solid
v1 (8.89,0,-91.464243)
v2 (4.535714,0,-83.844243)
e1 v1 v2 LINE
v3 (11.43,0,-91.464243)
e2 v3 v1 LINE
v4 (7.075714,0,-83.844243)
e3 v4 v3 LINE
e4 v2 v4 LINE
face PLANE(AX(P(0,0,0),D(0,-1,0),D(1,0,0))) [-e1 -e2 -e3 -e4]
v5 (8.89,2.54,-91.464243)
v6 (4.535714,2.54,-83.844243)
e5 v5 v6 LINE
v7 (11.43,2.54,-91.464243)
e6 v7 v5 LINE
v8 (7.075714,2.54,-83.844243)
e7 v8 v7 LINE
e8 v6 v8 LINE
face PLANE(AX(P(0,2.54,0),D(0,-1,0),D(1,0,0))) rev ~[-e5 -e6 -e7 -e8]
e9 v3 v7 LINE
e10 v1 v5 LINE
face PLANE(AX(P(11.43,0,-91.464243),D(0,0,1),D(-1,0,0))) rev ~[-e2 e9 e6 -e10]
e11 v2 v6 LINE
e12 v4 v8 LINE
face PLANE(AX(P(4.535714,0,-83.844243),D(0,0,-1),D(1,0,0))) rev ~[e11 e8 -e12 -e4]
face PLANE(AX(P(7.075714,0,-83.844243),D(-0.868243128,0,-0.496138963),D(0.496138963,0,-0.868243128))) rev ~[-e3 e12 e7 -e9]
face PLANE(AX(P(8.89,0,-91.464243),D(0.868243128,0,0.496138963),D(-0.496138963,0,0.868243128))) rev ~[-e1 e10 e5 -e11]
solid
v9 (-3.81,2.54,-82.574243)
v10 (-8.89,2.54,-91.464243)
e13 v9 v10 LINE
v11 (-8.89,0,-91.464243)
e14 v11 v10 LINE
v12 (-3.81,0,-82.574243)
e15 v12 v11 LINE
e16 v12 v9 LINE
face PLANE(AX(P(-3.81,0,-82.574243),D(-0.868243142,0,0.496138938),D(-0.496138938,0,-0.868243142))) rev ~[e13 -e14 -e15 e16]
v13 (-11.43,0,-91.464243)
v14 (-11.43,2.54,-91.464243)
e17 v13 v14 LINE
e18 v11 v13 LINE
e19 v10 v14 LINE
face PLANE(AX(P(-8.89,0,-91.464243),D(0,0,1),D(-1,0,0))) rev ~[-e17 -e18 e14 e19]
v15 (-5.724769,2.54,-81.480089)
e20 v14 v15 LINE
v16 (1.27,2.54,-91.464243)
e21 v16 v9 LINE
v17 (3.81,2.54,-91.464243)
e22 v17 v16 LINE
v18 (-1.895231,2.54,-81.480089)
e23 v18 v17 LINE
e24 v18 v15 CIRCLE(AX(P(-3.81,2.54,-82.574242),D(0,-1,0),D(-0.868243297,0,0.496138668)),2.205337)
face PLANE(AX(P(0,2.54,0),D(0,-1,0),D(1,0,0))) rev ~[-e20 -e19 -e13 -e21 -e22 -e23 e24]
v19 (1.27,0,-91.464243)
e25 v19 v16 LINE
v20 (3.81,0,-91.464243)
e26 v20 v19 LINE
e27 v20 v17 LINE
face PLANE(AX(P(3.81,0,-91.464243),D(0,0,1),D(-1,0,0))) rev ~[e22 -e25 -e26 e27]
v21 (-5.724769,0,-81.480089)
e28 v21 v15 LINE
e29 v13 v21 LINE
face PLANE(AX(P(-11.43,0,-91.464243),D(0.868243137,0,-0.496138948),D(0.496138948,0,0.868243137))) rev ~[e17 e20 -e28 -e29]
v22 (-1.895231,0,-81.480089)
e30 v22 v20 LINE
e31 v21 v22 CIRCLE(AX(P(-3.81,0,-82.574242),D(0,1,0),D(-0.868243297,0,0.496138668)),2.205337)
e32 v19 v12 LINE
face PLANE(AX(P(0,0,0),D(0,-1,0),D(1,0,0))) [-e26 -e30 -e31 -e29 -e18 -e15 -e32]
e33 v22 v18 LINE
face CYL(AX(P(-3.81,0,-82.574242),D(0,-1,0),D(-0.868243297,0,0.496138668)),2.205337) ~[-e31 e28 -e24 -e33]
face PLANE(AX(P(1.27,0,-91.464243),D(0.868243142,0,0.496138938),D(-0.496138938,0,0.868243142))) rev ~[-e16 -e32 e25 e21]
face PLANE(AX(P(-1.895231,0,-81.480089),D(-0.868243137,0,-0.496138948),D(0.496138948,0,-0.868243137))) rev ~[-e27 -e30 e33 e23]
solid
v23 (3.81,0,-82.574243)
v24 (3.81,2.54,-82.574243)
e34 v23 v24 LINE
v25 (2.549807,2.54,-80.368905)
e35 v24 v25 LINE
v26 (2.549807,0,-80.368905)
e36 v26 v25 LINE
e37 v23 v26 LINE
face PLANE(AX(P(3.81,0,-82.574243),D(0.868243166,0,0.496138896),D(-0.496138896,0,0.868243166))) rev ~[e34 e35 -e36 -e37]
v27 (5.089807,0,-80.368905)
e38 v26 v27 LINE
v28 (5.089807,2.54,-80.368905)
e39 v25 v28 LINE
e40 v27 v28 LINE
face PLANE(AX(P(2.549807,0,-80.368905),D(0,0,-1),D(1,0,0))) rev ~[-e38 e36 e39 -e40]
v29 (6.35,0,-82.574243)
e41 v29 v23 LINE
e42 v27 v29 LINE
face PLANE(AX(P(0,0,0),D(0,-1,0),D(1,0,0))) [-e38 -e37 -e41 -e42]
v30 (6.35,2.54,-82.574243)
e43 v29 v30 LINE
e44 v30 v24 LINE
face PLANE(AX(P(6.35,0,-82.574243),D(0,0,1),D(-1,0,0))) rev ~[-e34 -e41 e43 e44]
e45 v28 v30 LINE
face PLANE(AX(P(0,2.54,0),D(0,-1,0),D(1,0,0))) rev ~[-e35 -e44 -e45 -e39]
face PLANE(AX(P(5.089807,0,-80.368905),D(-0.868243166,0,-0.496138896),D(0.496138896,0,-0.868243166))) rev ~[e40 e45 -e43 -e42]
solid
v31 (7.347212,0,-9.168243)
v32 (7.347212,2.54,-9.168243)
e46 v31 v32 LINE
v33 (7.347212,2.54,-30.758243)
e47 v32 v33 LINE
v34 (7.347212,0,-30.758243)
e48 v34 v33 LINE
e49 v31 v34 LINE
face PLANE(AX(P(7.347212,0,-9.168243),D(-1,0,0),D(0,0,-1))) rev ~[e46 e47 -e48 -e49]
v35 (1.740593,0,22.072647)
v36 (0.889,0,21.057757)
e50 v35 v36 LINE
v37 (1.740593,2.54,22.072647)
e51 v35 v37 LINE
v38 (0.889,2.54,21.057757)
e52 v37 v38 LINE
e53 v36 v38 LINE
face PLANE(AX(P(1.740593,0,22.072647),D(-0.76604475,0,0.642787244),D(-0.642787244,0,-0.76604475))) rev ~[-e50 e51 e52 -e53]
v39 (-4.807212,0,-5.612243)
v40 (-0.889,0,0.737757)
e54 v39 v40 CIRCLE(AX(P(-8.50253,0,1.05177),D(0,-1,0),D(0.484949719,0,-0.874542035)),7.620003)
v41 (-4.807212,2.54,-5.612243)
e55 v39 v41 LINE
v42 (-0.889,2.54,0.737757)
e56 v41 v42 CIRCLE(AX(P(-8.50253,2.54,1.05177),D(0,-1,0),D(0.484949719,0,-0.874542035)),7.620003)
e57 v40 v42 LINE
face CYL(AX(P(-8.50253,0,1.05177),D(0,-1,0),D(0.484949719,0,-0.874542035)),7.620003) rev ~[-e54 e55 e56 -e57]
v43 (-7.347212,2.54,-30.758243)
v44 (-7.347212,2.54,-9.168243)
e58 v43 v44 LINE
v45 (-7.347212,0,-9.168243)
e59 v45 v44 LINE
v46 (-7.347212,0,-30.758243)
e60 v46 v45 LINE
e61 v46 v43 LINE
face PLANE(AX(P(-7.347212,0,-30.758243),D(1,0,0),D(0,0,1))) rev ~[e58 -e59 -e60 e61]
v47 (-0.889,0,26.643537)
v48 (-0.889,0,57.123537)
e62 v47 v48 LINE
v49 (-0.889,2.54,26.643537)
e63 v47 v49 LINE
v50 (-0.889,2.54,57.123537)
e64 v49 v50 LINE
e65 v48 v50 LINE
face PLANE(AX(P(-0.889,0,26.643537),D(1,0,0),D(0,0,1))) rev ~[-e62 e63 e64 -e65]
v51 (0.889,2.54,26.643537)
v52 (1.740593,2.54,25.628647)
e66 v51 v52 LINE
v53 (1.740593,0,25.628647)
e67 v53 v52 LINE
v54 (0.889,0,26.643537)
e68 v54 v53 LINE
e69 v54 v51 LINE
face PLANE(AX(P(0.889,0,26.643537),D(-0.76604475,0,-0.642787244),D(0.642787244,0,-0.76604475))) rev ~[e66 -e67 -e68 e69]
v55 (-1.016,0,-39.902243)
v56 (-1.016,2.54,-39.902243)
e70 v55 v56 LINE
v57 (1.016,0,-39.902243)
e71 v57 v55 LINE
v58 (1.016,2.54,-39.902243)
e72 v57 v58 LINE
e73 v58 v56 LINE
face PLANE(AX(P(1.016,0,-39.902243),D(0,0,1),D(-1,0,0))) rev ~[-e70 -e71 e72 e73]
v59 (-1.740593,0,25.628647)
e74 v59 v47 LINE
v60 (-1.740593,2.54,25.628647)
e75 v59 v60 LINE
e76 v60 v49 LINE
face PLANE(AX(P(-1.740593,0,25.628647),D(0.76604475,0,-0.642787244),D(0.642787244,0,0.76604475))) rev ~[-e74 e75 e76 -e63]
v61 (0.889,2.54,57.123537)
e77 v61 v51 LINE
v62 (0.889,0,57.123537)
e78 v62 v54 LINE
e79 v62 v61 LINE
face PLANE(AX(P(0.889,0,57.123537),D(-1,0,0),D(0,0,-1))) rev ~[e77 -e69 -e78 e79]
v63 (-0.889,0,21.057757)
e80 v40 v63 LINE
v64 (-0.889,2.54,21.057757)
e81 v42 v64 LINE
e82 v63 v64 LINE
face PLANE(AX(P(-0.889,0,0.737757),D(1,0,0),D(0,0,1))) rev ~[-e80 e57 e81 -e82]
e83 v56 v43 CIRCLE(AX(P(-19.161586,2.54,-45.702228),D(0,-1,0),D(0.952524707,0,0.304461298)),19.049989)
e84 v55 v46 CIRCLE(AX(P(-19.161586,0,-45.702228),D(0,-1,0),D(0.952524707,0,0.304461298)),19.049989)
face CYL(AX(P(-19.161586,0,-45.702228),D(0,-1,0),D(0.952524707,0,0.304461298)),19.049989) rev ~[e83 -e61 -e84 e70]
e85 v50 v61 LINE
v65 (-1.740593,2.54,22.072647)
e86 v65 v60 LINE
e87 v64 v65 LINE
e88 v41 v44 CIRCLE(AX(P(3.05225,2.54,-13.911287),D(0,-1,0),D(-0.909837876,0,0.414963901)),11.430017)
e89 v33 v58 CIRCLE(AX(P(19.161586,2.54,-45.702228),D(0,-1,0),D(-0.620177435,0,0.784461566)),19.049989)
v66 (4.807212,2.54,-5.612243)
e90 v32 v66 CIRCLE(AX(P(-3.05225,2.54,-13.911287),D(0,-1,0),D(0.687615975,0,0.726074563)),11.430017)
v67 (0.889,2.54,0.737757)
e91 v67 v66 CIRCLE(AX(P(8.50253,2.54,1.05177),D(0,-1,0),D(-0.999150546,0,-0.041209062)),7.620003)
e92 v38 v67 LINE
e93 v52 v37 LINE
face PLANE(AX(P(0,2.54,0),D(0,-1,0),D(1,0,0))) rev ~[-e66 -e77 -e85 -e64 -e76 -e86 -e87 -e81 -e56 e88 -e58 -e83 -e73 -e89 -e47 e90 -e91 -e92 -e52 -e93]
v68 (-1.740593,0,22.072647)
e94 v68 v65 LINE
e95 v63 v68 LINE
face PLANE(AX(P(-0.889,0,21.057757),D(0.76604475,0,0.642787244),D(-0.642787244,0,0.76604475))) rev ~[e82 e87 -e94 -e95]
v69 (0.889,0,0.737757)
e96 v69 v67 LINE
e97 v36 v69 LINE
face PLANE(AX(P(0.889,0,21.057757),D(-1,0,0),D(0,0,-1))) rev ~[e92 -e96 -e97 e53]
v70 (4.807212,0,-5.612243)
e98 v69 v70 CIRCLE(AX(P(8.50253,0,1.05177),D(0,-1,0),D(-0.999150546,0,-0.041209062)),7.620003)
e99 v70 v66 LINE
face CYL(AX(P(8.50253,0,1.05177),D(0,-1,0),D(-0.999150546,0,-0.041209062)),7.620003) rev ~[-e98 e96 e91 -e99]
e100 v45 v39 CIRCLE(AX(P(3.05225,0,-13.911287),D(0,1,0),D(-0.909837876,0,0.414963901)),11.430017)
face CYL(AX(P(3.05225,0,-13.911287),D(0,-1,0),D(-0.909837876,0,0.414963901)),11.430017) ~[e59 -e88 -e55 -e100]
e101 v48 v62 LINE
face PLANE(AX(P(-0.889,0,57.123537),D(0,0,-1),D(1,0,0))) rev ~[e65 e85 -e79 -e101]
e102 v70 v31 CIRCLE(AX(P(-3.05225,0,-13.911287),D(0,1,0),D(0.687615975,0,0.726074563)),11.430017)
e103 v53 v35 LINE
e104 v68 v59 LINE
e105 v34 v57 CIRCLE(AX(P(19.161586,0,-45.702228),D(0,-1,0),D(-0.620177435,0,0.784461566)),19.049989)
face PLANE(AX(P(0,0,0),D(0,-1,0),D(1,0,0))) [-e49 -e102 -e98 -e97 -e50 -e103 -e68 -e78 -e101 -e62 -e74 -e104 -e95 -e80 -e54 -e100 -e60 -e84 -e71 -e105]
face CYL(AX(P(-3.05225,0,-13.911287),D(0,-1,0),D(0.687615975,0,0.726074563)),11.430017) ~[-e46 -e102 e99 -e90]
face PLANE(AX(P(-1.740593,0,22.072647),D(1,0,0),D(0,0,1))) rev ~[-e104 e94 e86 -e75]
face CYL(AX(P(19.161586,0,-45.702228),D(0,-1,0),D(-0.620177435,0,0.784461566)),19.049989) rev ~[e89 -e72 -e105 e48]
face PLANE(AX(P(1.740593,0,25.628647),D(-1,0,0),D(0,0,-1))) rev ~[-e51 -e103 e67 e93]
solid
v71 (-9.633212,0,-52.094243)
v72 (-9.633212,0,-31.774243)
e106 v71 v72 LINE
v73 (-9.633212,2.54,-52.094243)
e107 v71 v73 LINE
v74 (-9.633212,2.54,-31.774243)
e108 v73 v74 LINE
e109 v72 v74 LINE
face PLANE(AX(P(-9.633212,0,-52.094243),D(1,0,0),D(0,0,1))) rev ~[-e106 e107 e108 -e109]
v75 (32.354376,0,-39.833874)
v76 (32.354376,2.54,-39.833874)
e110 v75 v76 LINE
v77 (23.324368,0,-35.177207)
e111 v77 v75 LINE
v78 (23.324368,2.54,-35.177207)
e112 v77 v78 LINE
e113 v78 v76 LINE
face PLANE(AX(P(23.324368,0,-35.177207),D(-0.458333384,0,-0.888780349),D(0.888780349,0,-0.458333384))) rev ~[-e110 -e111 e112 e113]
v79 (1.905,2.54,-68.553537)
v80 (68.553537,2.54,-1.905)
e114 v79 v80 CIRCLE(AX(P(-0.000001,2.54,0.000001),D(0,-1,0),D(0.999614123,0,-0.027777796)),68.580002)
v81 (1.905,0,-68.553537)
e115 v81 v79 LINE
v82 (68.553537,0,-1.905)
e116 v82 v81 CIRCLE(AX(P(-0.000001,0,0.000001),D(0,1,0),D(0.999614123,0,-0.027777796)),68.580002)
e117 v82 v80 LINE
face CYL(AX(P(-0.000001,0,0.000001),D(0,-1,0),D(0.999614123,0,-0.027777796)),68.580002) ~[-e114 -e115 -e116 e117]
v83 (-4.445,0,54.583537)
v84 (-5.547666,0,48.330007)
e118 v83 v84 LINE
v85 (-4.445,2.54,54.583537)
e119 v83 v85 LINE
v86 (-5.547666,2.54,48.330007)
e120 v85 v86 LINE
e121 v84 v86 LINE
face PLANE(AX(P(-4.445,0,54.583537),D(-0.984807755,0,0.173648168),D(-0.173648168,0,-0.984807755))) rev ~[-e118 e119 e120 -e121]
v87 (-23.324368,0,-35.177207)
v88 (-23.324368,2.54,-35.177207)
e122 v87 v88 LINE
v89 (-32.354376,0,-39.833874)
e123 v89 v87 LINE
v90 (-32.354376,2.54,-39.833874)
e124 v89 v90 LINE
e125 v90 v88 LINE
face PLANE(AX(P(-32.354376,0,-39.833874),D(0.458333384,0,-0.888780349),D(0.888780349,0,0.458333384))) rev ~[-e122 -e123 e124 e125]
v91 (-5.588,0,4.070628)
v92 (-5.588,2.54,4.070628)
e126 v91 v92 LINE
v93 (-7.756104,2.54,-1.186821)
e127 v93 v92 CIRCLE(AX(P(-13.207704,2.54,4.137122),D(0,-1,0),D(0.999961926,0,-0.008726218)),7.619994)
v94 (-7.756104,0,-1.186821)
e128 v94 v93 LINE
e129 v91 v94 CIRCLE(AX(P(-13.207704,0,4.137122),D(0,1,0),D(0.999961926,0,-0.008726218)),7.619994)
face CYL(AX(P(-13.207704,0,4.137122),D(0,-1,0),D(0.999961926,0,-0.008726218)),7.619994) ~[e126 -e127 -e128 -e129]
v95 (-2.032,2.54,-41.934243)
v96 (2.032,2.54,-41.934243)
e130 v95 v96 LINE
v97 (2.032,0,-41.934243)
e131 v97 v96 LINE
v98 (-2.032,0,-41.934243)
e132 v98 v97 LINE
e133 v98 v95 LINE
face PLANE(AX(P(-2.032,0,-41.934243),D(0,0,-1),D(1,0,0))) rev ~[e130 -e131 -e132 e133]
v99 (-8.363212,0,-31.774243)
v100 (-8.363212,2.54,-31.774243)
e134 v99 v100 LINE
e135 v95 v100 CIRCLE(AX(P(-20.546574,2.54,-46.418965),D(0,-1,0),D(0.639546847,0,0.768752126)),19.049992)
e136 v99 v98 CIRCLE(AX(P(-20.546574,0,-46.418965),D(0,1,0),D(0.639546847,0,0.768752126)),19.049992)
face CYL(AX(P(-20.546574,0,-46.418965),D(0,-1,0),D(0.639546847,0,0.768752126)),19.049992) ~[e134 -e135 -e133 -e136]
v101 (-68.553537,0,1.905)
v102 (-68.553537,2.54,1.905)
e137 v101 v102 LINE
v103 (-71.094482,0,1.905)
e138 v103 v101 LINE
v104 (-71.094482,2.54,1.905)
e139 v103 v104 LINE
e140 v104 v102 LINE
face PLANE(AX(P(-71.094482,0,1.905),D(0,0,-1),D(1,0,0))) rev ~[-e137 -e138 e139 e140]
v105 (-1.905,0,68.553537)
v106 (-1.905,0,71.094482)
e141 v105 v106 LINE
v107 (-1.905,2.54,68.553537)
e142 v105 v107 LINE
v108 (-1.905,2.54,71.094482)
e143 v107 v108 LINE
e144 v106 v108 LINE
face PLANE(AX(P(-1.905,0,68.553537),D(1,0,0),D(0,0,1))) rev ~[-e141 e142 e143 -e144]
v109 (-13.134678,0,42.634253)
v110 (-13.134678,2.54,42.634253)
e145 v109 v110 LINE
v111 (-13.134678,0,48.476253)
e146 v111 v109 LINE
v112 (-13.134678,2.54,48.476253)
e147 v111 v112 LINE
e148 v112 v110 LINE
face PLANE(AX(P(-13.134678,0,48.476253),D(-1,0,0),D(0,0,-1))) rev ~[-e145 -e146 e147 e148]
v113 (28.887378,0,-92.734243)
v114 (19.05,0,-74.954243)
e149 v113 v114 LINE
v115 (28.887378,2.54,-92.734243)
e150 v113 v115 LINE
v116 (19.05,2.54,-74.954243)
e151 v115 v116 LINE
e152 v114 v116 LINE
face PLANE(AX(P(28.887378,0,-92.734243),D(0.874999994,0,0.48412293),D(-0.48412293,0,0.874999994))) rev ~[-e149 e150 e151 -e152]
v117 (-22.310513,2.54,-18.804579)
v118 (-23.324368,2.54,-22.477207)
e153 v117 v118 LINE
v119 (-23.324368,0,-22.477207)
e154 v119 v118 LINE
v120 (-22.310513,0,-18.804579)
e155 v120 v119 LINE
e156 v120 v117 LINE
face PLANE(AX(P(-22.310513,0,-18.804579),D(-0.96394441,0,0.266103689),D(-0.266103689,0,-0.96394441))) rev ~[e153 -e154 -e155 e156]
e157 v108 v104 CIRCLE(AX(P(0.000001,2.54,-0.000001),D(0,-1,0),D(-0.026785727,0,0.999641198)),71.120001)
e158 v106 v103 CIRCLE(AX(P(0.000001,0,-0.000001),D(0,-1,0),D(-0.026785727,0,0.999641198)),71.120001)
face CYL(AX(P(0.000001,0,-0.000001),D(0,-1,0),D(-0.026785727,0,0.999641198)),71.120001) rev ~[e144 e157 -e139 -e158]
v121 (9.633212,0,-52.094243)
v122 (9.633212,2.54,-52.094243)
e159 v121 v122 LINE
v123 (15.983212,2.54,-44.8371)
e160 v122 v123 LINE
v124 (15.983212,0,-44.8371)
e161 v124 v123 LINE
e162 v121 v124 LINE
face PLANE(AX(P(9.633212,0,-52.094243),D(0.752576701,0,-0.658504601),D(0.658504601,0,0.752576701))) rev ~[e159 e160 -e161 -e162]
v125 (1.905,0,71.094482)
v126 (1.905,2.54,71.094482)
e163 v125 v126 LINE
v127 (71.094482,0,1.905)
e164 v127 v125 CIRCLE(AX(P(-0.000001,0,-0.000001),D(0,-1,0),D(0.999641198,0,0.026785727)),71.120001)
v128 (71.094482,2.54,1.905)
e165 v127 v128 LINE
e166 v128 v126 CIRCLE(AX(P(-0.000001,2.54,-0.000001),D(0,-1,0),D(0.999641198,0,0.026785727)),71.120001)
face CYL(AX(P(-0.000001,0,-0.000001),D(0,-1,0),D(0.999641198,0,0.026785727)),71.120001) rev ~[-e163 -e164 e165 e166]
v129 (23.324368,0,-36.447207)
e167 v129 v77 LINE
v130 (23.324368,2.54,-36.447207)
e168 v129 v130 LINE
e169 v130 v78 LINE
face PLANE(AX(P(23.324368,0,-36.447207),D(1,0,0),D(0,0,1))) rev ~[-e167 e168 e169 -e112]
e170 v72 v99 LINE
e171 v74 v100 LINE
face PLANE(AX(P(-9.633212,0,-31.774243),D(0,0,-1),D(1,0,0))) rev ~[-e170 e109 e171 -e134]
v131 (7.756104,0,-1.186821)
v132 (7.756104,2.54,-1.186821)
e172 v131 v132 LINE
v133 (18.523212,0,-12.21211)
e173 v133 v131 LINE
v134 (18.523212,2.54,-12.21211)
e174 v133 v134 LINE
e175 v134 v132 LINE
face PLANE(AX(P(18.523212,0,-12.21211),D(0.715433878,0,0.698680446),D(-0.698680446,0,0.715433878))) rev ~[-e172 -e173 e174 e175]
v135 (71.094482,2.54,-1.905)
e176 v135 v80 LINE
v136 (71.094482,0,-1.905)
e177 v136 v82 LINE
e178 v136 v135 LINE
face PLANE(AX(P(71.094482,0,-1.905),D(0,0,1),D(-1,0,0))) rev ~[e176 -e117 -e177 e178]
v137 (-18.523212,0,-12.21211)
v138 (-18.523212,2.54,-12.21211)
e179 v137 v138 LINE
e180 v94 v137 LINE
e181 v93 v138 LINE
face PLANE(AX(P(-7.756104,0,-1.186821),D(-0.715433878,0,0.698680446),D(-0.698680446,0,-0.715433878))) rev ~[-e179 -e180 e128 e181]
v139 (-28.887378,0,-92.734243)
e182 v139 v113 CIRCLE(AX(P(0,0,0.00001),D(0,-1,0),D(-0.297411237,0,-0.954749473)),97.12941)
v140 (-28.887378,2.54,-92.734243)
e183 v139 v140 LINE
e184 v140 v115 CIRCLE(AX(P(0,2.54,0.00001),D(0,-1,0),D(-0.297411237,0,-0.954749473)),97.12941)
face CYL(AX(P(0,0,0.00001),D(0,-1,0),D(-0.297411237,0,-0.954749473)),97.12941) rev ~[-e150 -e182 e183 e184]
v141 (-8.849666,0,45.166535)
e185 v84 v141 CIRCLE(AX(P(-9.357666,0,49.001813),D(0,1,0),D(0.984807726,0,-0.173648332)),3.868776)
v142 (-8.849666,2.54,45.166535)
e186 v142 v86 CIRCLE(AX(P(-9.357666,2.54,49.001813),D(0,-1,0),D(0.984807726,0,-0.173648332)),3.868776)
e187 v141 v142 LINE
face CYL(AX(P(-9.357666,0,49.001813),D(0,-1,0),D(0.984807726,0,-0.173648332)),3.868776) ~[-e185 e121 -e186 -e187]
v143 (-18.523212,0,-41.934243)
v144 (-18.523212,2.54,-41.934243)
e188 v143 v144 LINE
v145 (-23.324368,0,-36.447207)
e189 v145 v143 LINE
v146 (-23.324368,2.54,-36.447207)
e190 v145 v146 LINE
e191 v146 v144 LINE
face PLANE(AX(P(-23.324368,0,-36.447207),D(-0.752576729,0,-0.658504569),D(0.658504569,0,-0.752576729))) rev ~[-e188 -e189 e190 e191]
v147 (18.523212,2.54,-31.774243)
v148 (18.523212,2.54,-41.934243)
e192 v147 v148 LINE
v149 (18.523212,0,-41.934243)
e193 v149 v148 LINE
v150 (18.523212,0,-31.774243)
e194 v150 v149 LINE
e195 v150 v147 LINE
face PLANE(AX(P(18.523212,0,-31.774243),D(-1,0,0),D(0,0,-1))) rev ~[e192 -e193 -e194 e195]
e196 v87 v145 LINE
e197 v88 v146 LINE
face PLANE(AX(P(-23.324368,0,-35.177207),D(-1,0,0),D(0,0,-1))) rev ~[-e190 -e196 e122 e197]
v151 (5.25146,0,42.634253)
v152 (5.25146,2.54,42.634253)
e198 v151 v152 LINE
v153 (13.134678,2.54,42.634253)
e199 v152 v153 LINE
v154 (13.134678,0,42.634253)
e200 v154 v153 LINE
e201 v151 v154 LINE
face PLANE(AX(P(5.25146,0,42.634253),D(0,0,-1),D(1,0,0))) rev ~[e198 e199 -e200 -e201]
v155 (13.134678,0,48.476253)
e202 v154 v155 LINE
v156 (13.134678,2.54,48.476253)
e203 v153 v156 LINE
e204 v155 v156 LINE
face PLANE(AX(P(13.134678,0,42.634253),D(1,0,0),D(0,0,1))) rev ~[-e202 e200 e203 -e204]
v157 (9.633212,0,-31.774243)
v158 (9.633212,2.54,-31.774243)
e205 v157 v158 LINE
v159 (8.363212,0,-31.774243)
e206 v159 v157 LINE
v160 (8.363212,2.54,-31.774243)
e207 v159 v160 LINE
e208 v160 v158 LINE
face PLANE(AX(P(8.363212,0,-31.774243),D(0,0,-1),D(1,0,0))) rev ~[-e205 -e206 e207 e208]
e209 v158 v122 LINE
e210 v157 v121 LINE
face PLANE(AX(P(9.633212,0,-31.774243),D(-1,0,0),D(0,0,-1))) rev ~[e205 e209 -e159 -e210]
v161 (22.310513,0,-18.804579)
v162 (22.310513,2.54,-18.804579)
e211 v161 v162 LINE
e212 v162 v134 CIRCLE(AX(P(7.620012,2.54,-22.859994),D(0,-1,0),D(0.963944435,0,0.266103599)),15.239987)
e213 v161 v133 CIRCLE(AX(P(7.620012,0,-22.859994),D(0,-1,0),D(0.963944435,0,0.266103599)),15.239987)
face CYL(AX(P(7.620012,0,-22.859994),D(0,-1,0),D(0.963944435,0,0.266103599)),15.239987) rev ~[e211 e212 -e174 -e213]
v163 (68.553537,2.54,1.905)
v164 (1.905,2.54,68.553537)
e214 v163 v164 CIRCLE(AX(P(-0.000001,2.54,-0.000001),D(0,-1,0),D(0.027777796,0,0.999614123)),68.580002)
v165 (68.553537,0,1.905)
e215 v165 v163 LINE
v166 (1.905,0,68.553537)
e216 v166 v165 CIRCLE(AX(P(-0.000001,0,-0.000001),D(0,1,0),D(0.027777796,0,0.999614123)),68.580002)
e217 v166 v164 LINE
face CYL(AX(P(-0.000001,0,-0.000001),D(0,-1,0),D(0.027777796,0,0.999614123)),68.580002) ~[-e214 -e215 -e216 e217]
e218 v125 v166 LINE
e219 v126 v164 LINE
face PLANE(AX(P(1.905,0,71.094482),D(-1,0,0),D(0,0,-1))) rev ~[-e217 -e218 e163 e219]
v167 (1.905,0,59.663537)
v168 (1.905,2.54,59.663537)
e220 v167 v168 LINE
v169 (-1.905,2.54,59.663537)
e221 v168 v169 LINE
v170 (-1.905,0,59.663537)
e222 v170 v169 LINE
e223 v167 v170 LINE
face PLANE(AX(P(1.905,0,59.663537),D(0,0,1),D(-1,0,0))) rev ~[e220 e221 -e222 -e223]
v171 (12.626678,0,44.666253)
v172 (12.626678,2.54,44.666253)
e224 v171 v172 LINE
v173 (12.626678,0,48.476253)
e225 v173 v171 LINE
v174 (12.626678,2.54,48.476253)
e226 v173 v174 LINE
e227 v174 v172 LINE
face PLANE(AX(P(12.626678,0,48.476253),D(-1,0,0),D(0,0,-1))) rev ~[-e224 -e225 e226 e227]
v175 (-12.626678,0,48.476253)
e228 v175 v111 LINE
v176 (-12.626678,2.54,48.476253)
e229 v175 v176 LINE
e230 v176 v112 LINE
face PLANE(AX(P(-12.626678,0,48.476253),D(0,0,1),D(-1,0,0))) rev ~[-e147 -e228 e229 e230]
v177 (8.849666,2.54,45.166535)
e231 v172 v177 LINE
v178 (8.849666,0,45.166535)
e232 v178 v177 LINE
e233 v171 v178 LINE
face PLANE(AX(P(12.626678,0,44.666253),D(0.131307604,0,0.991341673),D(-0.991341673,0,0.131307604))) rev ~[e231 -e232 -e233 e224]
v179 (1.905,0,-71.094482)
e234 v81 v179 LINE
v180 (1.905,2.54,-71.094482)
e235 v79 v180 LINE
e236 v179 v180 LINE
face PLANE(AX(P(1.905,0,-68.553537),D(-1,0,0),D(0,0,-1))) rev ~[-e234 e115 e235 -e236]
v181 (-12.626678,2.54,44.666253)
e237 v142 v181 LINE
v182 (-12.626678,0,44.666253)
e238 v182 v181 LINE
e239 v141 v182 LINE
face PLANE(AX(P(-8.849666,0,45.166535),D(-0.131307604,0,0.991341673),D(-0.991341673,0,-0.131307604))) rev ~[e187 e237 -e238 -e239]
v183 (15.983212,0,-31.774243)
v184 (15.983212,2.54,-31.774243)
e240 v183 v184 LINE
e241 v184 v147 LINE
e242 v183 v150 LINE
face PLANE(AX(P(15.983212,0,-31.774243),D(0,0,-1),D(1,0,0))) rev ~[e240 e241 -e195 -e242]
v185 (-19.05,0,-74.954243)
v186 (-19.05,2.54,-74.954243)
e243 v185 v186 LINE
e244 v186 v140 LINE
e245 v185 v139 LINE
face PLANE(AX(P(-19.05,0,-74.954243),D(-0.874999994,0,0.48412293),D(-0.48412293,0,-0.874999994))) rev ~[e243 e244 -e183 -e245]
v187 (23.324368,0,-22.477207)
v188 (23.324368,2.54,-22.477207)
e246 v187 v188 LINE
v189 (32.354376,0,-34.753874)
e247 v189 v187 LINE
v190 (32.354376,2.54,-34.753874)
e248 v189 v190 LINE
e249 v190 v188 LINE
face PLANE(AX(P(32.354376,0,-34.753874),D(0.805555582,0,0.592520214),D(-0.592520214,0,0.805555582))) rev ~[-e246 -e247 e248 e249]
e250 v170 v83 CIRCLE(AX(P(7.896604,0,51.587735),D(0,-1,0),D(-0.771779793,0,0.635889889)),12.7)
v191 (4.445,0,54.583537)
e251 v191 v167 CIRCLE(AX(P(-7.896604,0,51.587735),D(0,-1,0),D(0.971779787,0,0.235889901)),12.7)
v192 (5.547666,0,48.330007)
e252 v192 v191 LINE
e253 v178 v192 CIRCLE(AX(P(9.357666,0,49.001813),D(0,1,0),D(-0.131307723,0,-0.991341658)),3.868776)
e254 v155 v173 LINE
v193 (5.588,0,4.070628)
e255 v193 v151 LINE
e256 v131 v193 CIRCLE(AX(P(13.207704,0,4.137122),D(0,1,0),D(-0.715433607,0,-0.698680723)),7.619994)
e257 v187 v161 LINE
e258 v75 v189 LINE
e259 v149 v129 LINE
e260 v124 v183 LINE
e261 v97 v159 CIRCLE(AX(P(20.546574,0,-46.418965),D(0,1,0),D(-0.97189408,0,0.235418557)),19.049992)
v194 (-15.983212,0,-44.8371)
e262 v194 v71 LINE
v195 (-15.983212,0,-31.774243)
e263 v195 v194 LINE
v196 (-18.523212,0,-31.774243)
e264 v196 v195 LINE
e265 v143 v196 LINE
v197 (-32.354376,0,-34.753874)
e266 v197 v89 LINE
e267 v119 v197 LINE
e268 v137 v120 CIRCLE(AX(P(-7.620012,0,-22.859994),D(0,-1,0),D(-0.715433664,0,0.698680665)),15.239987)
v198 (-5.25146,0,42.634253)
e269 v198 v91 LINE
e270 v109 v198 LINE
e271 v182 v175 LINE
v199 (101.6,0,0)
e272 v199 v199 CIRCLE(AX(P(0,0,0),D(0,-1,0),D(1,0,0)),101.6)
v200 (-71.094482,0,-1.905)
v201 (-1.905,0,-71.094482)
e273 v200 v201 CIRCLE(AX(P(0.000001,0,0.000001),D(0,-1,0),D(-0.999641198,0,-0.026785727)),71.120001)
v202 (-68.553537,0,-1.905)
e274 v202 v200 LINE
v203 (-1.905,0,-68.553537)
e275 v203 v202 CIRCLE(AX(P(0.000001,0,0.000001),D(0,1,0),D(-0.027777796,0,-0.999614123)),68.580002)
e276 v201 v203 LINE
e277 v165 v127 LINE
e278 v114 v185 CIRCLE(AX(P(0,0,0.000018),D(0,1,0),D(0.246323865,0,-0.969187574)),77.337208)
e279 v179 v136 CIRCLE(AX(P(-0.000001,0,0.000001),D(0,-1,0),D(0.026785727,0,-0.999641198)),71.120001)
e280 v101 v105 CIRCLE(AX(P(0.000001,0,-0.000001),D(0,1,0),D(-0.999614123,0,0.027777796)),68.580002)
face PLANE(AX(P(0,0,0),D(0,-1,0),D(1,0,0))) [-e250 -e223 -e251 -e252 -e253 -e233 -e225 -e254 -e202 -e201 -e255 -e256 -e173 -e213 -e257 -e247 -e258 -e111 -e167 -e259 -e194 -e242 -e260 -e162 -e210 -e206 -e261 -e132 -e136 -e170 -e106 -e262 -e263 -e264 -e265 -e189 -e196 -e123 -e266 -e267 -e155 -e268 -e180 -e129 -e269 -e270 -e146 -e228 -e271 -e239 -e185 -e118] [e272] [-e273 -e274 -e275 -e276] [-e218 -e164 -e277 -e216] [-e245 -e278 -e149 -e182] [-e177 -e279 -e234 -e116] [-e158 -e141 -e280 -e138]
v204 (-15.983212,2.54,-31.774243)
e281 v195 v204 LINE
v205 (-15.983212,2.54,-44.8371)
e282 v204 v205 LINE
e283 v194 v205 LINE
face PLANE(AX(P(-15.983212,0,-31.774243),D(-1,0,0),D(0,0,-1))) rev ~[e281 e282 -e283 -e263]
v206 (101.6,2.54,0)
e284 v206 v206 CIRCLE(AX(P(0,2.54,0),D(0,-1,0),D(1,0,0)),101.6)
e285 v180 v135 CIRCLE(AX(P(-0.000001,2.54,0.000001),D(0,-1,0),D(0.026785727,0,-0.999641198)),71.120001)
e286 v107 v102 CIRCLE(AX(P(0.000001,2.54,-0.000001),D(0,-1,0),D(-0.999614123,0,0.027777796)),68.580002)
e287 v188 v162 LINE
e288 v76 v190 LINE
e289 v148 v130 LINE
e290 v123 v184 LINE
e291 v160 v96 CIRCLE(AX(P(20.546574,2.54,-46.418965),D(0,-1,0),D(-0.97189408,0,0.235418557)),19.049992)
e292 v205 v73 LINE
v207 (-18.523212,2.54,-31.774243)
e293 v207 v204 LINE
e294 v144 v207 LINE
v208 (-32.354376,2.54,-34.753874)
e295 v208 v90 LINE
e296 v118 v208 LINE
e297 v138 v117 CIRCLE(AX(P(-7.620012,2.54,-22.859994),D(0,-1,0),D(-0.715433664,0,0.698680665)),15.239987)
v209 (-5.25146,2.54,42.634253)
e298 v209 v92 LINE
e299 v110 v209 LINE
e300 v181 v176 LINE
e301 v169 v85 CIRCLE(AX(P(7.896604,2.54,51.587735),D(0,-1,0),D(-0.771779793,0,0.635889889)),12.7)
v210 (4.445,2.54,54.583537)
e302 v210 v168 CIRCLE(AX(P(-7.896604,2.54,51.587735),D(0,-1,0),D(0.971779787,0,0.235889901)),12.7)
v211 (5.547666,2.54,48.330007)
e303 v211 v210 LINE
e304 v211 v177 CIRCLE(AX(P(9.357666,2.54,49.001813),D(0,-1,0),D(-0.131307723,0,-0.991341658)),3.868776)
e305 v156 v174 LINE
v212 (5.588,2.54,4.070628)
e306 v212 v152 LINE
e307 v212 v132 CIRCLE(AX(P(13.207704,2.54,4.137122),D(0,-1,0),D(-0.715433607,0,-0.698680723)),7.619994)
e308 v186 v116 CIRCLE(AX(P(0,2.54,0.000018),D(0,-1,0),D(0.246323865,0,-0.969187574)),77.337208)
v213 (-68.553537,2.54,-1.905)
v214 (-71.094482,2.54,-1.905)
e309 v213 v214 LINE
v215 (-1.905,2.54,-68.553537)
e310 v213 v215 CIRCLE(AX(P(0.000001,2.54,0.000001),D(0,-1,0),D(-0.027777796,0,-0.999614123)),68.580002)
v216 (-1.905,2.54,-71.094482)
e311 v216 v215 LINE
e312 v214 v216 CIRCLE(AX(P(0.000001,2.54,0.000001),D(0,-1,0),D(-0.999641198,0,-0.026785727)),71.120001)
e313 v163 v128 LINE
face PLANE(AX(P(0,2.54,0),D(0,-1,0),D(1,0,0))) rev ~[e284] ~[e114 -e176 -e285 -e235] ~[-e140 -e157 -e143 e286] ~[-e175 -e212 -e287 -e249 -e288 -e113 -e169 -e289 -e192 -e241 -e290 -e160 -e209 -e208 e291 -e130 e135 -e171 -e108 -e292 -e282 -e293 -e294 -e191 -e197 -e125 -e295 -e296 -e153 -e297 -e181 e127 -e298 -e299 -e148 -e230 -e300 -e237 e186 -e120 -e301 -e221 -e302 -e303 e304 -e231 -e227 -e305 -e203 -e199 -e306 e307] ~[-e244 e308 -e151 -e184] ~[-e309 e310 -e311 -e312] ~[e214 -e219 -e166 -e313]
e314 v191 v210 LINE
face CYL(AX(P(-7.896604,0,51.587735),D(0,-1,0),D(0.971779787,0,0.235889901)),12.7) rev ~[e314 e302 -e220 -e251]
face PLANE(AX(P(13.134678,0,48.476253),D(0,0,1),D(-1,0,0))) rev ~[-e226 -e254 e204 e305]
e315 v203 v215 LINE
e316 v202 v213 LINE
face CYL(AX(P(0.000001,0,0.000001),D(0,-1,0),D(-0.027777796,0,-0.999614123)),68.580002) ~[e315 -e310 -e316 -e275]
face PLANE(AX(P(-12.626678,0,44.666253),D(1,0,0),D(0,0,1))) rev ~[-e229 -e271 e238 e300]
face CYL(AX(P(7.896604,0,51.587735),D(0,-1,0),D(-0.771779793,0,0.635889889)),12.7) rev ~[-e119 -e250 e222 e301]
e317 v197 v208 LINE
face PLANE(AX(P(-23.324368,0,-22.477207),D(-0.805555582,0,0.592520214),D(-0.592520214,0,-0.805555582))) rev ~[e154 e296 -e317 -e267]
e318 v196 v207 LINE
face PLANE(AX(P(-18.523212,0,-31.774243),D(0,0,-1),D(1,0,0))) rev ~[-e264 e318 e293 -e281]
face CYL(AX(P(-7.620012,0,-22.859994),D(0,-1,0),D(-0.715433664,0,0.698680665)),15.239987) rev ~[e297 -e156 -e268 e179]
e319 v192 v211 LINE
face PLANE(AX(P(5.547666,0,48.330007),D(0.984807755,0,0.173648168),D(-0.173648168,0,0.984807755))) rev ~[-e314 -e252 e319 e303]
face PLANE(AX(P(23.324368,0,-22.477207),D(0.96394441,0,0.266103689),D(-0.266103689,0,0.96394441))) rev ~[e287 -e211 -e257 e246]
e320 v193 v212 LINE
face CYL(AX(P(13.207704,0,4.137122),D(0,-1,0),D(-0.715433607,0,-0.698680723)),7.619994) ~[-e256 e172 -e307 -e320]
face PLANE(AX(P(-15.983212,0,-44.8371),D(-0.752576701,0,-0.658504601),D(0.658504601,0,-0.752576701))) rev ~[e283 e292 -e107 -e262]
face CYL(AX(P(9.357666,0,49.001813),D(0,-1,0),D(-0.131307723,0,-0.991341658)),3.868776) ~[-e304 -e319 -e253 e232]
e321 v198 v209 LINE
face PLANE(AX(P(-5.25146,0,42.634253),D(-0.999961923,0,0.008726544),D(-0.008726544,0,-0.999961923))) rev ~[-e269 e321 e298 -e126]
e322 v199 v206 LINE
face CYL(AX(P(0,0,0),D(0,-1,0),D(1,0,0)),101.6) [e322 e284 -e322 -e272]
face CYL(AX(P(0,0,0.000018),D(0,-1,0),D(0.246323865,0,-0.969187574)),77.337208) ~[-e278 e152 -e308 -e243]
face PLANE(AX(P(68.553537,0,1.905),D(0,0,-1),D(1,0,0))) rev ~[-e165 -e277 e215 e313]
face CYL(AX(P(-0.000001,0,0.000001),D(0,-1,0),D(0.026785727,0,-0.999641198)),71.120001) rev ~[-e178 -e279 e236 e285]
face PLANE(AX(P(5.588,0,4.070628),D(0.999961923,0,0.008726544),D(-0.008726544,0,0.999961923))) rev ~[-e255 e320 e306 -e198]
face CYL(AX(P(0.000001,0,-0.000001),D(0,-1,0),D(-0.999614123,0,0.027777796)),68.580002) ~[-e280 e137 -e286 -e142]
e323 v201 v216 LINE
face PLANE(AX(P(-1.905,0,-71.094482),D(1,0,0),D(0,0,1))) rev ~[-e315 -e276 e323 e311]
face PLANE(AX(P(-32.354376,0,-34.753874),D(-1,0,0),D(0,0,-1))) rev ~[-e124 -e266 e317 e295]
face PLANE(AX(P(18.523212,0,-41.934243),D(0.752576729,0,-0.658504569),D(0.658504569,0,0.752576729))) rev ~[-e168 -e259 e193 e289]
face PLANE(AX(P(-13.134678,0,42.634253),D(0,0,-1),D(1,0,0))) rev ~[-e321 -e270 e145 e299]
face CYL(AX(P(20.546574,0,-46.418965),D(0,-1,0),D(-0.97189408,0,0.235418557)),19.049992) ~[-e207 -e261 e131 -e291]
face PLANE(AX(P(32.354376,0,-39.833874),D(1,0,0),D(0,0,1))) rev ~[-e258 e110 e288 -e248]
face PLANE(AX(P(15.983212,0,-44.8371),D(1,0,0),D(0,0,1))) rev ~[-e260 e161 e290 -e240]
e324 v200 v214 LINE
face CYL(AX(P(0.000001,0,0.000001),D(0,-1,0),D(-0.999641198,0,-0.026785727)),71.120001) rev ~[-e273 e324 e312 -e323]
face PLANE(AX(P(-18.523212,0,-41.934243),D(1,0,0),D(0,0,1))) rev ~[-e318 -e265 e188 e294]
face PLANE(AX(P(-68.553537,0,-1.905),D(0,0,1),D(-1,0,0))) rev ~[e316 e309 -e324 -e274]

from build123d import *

# Parameters (mm, degrees)
F0_R     = 101.6
F1_DEPTH = 2.54
F3_DEPTH = 25.4
F5_DEPTH = 25.4
F7_DEPTH = 25.4


with BuildPart() as f1:
    # F0 (on Front) → F1 (new body)
    with BuildSketch(Plane.XZ):
        Circle(F0_R)
    extrude(amount=-F1_DEPTH)

    # F2 (on face) → F3 (cut)
    with BuildSketch(Plane.XZ):
        with BuildLine():
            Line((-68.553537, -1.905), (-71.094482, -1.905))
            ThreePointArc((-71.094482, -1.905), (-50.289434, -50.289434), (-1.905, -71.094482))
            Line((-1.905, -71.094482), (-1.905, -68.553537))
            ThreePointArc((-1.905, -68.553537), (-48.493383, -48.493383), (-68.553537, -1.905))
        make_face()
        with BuildLine():
            Line((-71.094482, 1.905), (-68.553537, 1.905))
            ThreePointArc((-68.553537, 1.905), (-48.493383, 48.493383), (-1.905, 68.553537))
            Line((-1.905, 68.553537), (-1.905, 71.094482))
            ThreePointArc((-1.905, 71.094482), (-50.289434, 50.289434), (-71.094482, 1.905))
        make_face()
        with BuildLine():
            Line((1.905, 71.094482), (1.905, 68.553537))
            ThreePointArc((1.905, 68.553537), (48.493383, 48.493383), (68.553537, 1.905))
            Line((68.553537, 1.905), (71.094482, 1.905))
            ThreePointArc((71.094482, 1.905), (50.289434, 50.289434), (1.905, 71.094482))
        make_face()
        with BuildLine():
            Line((71.094482, -1.905), (68.553537, -1.905))
            ThreePointArc((68.553537, -1.905), (48.493383, -48.493383), (1.905, -68.553537))
            Line((1.905, -68.553537), (1.905, -71.094482))
            ThreePointArc((1.905, -71.094482), (50.289434, -50.289434), (71.094482, -1.905))
        make_face()
    extrude(amount=-F3_DEPTH, mode=Mode.SUBTRACT)

    # F4 (on face) → F5 (cut)
    with BuildSketch(Plane.XZ):
        with BuildLine():
            Line((1.905, 59.663537), (0, 59.663537))
            Line((0, 59.663537), (0, 57.123537))
            Line((0, 57.123537), (0.889, 57.123537))
            Line((0.889, 57.123537), (0.889, 26.643537))
            Line((0.889, 26.643537), (1.740593, 25.628647))
            Line((1.740593, 25.628647), (1.740593, 22.072647))
            Line((1.740593, 22.072647), (0.889, 21.057757))
            Line((0.889, 21.057757), (0.889, 0.737757))
            ThreePointArc((0.889, 0.737757), (2.017691, -2.949643), (4.807212, -5.612243))
            ThreePointArc((4.807212, -5.612243), (6.248737, -7.267725), (7.347212, -9.168243))
            Line((7.347212, -9.168243), (7.347212, -30.758243))
            ThreePointArc((7.347212, -30.758243), (3.499435, -34.857914), (1.016, -39.902243))
            Line((1.016, -39.902243), (0, -39.902243))
            Line((0, -39.902243), (0, -41.934243))
            Line((0, -41.934243), (2.032, -41.934243))
            ThreePointArc((2.032, -41.934243), (4.378791, -36.343997), (8.363212, -31.774243))
            Line((8.363212, -31.774243), (9.633212, -31.774243))
            Line((9.633212, -31.774243), (9.633212, -52.094243))
            Line((9.633212, -52.094243), (15.983212, -44.8371))
            Line((15.983212, -44.8371), (15.983212, -31.774243))
            Line((15.983212, -31.774243), (18.523212, -31.774243))
            Line((18.523212, -31.774243), (18.523212, -41.934243))
            Line((18.523212, -41.934243), (23.324368, -36.447207))
            Line((23.324368, -36.447207), (23.324368, -35.177207))
            Line((23.324368, -35.177207), (32.354376, -39.833874))
            Line((32.354376, -39.833874), (32.354376, -34.753874))
            Line((32.354376, -34.753874), (23.324368, -22.477207))
            Line((23.324368, -22.477207), (22.310513, -18.804579))
            ThreePointArc((22.310513, -18.804579), (20.83457, -15.268376), (18.523212, -12.21211))
            Line((18.523212, -12.21211), (7.756104, -1.186821))
            ThreePointArc((7.756104, -1.186821), (6.163207, 1.232062), (5.588, 4.070628))
            Line((5.588, 4.070628), (5.25146, 42.634253))
            Line((5.25146, 42.634253), (13.134678, 42.634253))
            Line((13.134678, 42.634253), (13.134678, 48.476253))
            Line((13.134678, 48.476253), (12.626678, 48.476253))
            Line((12.626678, 48.476253), (12.626678, 44.666253))
            Line((12.626678, 44.666253), (8.849666, 45.166535))
            ThreePointArc((8.849666, 45.166535), (6.681256, 46.208204), (5.547666, 48.330007))
            Line((5.547666, 48.330007), (4.445, 54.583537))
            ThreePointArc((4.445, 54.583537), (3.462622, 57.267348), (1.905, 59.663537))
        make_face()
        with BuildLine():
            Line((0, 59.663537), (-1.905, 59.663537))
            ThreePointArc((-1.905, 59.663537), (-3.462622, 57.267348), (-4.445, 54.583537))
            Line((-4.445, 54.583537), (-5.547666, 48.330007))
            ThreePointArc((-5.547666, 48.330007), (-6.681256, 46.208204), (-8.849666, 45.166535))
            Line((-8.849666, 45.166535), (-12.626678, 44.666253))
            Line((-12.626678, 44.666253), (-12.626678, 48.476253))
            Line((-12.626678, 48.476253), (-13.134678, 48.476253))
            Line((-13.134678, 48.476253), (-13.134678, 42.634253))
            Line((-13.134678, 42.634253), (-5.25146, 42.634253))
            Line((-5.25146, 42.634253), (-5.588, 4.070628))
            ThreePointArc((-5.588, 4.070628), (-6.163207, 1.232062), (-7.756104, -1.186821))
            Line((-7.756104, -1.186821), (-18.523212, -12.21211))
            ThreePointArc((-18.523212, -12.21211), (-20.83457, -15.268376), (-22.310513, -18.804579))
            Line((-22.310513, -18.804579), (-23.324368, -22.477207))
            Line((-23.324368, -22.477207), (-32.354376, -34.753874))
            Line((-32.354376, -34.753874), (-32.354376, -39.833874))
            Line((-32.354376, -39.833874), (-23.324368, -35.177207))
            Line((-23.324368, -35.177207), (-23.324368, -36.447207))
            Line((-23.324368, -36.447207), (-18.523212, -41.934243))
            Line((-18.523212, -41.934243), (-18.523212, -31.774243))
            Line((-18.523212, -31.774243), (-15.983212, -31.774243))
            Line((-15.983212, -31.774243), (-15.983212, -44.8371))
            Line((-15.983212, -44.8371), (-9.633212, -52.094243))
            Line((-9.633212, -52.094243), (-9.633212, -31.774243))
            Line((-9.633212, -31.774243), (-8.363212, -31.774243))
            ThreePointArc((-8.363212, -31.774243), (-4.378791, -36.343997), (-2.032, -41.934243))
            Line((-2.032, -41.934243), (0, -41.934243))
            Line((0, -41.934243), (0, -39.902243))
            Line((0, -39.902243), (-1.016, -39.902243))
            ThreePointArc((-1.016, -39.902243), (-3.499435, -34.857914), (-7.347212, -30.758243))
            Line((-7.347212, -30.758243), (-7.347212, -9.168243))
            ThreePointArc((-7.347212, -9.168243), (-6.248737, -7.267725), (-4.807212, -5.612243))
            ThreePointArc((-4.807212, -5.612243), (-2.017691, -2.949643), (-0.889, 0.737757))
            Line((-0.889, 0.737757), (-0.889, 21.057757))
            Line((-0.889, 21.057757), (-1.740593, 22.072647))
            Line((-1.740593, 22.072647), (-1.740593, 25.628647))
            Line((-1.740593, 25.628647), (-0.889, 26.643537))
            Line((-0.889, 26.643537), (-0.889, 57.123537))
            Line((-0.889, 57.123537), (0, 57.123537))
            Line((0, 57.123537), (0, 59.663537))
        make_face()
    extrude(amount=-F5_DEPTH, mode=Mode.SUBTRACT)

    # F6 (on face) → F7 (cut)
    with BuildSketch(Plane.XZ):
        with BuildLine():
            Line((-19.05, -74.954243), (-28.887378, -92.734243))
            ThreePointArc((-28.887378, -92.734243), (0, -97.1294), (28.887378, -92.734243))
            Line((28.887378, -92.734243), (19.05, -74.954243))
            ThreePointArc((19.05, -74.954243), (0, -77.33719), (-19.05, -74.954243))
        make_face()
        with BuildLine():
            Line((-3.81, -82.574243), (-8.89, -91.464243))
            Line((-8.89, -91.464243), (-11.43, -91.464243))
            Line((-11.43, -91.464243), (-5.724769, -81.480089))
            ThreePointArc((-5.724769, -81.480089), (-3.81, -80.368905), (-1.895231, -81.480089))
            Line((-1.895231, -81.480089), (3.81, -91.464243))
            Line((3.81, -91.464243), (1.27, -91.464243))
            Line((1.27, -91.464243), (-3.81, -82.574243))
        make_face(mode=Mode.SUBTRACT)
        Polygon((6.35, -82.574243), (3.81, -82.574243), (2.549807, -80.368905), (5.089807, -80.368905), align=None, mode=Mode.SUBTRACT)
        Polygon((11.43, -91.464243), (8.89, -91.464243), (4.535714, -83.844243), (7.075714, -83.844243), align=None, mode=Mode.SUBTRACT)
    extrude(amount=-F7_DEPTH, mode=Mode.SUBTRACT)


solid = f1.part
